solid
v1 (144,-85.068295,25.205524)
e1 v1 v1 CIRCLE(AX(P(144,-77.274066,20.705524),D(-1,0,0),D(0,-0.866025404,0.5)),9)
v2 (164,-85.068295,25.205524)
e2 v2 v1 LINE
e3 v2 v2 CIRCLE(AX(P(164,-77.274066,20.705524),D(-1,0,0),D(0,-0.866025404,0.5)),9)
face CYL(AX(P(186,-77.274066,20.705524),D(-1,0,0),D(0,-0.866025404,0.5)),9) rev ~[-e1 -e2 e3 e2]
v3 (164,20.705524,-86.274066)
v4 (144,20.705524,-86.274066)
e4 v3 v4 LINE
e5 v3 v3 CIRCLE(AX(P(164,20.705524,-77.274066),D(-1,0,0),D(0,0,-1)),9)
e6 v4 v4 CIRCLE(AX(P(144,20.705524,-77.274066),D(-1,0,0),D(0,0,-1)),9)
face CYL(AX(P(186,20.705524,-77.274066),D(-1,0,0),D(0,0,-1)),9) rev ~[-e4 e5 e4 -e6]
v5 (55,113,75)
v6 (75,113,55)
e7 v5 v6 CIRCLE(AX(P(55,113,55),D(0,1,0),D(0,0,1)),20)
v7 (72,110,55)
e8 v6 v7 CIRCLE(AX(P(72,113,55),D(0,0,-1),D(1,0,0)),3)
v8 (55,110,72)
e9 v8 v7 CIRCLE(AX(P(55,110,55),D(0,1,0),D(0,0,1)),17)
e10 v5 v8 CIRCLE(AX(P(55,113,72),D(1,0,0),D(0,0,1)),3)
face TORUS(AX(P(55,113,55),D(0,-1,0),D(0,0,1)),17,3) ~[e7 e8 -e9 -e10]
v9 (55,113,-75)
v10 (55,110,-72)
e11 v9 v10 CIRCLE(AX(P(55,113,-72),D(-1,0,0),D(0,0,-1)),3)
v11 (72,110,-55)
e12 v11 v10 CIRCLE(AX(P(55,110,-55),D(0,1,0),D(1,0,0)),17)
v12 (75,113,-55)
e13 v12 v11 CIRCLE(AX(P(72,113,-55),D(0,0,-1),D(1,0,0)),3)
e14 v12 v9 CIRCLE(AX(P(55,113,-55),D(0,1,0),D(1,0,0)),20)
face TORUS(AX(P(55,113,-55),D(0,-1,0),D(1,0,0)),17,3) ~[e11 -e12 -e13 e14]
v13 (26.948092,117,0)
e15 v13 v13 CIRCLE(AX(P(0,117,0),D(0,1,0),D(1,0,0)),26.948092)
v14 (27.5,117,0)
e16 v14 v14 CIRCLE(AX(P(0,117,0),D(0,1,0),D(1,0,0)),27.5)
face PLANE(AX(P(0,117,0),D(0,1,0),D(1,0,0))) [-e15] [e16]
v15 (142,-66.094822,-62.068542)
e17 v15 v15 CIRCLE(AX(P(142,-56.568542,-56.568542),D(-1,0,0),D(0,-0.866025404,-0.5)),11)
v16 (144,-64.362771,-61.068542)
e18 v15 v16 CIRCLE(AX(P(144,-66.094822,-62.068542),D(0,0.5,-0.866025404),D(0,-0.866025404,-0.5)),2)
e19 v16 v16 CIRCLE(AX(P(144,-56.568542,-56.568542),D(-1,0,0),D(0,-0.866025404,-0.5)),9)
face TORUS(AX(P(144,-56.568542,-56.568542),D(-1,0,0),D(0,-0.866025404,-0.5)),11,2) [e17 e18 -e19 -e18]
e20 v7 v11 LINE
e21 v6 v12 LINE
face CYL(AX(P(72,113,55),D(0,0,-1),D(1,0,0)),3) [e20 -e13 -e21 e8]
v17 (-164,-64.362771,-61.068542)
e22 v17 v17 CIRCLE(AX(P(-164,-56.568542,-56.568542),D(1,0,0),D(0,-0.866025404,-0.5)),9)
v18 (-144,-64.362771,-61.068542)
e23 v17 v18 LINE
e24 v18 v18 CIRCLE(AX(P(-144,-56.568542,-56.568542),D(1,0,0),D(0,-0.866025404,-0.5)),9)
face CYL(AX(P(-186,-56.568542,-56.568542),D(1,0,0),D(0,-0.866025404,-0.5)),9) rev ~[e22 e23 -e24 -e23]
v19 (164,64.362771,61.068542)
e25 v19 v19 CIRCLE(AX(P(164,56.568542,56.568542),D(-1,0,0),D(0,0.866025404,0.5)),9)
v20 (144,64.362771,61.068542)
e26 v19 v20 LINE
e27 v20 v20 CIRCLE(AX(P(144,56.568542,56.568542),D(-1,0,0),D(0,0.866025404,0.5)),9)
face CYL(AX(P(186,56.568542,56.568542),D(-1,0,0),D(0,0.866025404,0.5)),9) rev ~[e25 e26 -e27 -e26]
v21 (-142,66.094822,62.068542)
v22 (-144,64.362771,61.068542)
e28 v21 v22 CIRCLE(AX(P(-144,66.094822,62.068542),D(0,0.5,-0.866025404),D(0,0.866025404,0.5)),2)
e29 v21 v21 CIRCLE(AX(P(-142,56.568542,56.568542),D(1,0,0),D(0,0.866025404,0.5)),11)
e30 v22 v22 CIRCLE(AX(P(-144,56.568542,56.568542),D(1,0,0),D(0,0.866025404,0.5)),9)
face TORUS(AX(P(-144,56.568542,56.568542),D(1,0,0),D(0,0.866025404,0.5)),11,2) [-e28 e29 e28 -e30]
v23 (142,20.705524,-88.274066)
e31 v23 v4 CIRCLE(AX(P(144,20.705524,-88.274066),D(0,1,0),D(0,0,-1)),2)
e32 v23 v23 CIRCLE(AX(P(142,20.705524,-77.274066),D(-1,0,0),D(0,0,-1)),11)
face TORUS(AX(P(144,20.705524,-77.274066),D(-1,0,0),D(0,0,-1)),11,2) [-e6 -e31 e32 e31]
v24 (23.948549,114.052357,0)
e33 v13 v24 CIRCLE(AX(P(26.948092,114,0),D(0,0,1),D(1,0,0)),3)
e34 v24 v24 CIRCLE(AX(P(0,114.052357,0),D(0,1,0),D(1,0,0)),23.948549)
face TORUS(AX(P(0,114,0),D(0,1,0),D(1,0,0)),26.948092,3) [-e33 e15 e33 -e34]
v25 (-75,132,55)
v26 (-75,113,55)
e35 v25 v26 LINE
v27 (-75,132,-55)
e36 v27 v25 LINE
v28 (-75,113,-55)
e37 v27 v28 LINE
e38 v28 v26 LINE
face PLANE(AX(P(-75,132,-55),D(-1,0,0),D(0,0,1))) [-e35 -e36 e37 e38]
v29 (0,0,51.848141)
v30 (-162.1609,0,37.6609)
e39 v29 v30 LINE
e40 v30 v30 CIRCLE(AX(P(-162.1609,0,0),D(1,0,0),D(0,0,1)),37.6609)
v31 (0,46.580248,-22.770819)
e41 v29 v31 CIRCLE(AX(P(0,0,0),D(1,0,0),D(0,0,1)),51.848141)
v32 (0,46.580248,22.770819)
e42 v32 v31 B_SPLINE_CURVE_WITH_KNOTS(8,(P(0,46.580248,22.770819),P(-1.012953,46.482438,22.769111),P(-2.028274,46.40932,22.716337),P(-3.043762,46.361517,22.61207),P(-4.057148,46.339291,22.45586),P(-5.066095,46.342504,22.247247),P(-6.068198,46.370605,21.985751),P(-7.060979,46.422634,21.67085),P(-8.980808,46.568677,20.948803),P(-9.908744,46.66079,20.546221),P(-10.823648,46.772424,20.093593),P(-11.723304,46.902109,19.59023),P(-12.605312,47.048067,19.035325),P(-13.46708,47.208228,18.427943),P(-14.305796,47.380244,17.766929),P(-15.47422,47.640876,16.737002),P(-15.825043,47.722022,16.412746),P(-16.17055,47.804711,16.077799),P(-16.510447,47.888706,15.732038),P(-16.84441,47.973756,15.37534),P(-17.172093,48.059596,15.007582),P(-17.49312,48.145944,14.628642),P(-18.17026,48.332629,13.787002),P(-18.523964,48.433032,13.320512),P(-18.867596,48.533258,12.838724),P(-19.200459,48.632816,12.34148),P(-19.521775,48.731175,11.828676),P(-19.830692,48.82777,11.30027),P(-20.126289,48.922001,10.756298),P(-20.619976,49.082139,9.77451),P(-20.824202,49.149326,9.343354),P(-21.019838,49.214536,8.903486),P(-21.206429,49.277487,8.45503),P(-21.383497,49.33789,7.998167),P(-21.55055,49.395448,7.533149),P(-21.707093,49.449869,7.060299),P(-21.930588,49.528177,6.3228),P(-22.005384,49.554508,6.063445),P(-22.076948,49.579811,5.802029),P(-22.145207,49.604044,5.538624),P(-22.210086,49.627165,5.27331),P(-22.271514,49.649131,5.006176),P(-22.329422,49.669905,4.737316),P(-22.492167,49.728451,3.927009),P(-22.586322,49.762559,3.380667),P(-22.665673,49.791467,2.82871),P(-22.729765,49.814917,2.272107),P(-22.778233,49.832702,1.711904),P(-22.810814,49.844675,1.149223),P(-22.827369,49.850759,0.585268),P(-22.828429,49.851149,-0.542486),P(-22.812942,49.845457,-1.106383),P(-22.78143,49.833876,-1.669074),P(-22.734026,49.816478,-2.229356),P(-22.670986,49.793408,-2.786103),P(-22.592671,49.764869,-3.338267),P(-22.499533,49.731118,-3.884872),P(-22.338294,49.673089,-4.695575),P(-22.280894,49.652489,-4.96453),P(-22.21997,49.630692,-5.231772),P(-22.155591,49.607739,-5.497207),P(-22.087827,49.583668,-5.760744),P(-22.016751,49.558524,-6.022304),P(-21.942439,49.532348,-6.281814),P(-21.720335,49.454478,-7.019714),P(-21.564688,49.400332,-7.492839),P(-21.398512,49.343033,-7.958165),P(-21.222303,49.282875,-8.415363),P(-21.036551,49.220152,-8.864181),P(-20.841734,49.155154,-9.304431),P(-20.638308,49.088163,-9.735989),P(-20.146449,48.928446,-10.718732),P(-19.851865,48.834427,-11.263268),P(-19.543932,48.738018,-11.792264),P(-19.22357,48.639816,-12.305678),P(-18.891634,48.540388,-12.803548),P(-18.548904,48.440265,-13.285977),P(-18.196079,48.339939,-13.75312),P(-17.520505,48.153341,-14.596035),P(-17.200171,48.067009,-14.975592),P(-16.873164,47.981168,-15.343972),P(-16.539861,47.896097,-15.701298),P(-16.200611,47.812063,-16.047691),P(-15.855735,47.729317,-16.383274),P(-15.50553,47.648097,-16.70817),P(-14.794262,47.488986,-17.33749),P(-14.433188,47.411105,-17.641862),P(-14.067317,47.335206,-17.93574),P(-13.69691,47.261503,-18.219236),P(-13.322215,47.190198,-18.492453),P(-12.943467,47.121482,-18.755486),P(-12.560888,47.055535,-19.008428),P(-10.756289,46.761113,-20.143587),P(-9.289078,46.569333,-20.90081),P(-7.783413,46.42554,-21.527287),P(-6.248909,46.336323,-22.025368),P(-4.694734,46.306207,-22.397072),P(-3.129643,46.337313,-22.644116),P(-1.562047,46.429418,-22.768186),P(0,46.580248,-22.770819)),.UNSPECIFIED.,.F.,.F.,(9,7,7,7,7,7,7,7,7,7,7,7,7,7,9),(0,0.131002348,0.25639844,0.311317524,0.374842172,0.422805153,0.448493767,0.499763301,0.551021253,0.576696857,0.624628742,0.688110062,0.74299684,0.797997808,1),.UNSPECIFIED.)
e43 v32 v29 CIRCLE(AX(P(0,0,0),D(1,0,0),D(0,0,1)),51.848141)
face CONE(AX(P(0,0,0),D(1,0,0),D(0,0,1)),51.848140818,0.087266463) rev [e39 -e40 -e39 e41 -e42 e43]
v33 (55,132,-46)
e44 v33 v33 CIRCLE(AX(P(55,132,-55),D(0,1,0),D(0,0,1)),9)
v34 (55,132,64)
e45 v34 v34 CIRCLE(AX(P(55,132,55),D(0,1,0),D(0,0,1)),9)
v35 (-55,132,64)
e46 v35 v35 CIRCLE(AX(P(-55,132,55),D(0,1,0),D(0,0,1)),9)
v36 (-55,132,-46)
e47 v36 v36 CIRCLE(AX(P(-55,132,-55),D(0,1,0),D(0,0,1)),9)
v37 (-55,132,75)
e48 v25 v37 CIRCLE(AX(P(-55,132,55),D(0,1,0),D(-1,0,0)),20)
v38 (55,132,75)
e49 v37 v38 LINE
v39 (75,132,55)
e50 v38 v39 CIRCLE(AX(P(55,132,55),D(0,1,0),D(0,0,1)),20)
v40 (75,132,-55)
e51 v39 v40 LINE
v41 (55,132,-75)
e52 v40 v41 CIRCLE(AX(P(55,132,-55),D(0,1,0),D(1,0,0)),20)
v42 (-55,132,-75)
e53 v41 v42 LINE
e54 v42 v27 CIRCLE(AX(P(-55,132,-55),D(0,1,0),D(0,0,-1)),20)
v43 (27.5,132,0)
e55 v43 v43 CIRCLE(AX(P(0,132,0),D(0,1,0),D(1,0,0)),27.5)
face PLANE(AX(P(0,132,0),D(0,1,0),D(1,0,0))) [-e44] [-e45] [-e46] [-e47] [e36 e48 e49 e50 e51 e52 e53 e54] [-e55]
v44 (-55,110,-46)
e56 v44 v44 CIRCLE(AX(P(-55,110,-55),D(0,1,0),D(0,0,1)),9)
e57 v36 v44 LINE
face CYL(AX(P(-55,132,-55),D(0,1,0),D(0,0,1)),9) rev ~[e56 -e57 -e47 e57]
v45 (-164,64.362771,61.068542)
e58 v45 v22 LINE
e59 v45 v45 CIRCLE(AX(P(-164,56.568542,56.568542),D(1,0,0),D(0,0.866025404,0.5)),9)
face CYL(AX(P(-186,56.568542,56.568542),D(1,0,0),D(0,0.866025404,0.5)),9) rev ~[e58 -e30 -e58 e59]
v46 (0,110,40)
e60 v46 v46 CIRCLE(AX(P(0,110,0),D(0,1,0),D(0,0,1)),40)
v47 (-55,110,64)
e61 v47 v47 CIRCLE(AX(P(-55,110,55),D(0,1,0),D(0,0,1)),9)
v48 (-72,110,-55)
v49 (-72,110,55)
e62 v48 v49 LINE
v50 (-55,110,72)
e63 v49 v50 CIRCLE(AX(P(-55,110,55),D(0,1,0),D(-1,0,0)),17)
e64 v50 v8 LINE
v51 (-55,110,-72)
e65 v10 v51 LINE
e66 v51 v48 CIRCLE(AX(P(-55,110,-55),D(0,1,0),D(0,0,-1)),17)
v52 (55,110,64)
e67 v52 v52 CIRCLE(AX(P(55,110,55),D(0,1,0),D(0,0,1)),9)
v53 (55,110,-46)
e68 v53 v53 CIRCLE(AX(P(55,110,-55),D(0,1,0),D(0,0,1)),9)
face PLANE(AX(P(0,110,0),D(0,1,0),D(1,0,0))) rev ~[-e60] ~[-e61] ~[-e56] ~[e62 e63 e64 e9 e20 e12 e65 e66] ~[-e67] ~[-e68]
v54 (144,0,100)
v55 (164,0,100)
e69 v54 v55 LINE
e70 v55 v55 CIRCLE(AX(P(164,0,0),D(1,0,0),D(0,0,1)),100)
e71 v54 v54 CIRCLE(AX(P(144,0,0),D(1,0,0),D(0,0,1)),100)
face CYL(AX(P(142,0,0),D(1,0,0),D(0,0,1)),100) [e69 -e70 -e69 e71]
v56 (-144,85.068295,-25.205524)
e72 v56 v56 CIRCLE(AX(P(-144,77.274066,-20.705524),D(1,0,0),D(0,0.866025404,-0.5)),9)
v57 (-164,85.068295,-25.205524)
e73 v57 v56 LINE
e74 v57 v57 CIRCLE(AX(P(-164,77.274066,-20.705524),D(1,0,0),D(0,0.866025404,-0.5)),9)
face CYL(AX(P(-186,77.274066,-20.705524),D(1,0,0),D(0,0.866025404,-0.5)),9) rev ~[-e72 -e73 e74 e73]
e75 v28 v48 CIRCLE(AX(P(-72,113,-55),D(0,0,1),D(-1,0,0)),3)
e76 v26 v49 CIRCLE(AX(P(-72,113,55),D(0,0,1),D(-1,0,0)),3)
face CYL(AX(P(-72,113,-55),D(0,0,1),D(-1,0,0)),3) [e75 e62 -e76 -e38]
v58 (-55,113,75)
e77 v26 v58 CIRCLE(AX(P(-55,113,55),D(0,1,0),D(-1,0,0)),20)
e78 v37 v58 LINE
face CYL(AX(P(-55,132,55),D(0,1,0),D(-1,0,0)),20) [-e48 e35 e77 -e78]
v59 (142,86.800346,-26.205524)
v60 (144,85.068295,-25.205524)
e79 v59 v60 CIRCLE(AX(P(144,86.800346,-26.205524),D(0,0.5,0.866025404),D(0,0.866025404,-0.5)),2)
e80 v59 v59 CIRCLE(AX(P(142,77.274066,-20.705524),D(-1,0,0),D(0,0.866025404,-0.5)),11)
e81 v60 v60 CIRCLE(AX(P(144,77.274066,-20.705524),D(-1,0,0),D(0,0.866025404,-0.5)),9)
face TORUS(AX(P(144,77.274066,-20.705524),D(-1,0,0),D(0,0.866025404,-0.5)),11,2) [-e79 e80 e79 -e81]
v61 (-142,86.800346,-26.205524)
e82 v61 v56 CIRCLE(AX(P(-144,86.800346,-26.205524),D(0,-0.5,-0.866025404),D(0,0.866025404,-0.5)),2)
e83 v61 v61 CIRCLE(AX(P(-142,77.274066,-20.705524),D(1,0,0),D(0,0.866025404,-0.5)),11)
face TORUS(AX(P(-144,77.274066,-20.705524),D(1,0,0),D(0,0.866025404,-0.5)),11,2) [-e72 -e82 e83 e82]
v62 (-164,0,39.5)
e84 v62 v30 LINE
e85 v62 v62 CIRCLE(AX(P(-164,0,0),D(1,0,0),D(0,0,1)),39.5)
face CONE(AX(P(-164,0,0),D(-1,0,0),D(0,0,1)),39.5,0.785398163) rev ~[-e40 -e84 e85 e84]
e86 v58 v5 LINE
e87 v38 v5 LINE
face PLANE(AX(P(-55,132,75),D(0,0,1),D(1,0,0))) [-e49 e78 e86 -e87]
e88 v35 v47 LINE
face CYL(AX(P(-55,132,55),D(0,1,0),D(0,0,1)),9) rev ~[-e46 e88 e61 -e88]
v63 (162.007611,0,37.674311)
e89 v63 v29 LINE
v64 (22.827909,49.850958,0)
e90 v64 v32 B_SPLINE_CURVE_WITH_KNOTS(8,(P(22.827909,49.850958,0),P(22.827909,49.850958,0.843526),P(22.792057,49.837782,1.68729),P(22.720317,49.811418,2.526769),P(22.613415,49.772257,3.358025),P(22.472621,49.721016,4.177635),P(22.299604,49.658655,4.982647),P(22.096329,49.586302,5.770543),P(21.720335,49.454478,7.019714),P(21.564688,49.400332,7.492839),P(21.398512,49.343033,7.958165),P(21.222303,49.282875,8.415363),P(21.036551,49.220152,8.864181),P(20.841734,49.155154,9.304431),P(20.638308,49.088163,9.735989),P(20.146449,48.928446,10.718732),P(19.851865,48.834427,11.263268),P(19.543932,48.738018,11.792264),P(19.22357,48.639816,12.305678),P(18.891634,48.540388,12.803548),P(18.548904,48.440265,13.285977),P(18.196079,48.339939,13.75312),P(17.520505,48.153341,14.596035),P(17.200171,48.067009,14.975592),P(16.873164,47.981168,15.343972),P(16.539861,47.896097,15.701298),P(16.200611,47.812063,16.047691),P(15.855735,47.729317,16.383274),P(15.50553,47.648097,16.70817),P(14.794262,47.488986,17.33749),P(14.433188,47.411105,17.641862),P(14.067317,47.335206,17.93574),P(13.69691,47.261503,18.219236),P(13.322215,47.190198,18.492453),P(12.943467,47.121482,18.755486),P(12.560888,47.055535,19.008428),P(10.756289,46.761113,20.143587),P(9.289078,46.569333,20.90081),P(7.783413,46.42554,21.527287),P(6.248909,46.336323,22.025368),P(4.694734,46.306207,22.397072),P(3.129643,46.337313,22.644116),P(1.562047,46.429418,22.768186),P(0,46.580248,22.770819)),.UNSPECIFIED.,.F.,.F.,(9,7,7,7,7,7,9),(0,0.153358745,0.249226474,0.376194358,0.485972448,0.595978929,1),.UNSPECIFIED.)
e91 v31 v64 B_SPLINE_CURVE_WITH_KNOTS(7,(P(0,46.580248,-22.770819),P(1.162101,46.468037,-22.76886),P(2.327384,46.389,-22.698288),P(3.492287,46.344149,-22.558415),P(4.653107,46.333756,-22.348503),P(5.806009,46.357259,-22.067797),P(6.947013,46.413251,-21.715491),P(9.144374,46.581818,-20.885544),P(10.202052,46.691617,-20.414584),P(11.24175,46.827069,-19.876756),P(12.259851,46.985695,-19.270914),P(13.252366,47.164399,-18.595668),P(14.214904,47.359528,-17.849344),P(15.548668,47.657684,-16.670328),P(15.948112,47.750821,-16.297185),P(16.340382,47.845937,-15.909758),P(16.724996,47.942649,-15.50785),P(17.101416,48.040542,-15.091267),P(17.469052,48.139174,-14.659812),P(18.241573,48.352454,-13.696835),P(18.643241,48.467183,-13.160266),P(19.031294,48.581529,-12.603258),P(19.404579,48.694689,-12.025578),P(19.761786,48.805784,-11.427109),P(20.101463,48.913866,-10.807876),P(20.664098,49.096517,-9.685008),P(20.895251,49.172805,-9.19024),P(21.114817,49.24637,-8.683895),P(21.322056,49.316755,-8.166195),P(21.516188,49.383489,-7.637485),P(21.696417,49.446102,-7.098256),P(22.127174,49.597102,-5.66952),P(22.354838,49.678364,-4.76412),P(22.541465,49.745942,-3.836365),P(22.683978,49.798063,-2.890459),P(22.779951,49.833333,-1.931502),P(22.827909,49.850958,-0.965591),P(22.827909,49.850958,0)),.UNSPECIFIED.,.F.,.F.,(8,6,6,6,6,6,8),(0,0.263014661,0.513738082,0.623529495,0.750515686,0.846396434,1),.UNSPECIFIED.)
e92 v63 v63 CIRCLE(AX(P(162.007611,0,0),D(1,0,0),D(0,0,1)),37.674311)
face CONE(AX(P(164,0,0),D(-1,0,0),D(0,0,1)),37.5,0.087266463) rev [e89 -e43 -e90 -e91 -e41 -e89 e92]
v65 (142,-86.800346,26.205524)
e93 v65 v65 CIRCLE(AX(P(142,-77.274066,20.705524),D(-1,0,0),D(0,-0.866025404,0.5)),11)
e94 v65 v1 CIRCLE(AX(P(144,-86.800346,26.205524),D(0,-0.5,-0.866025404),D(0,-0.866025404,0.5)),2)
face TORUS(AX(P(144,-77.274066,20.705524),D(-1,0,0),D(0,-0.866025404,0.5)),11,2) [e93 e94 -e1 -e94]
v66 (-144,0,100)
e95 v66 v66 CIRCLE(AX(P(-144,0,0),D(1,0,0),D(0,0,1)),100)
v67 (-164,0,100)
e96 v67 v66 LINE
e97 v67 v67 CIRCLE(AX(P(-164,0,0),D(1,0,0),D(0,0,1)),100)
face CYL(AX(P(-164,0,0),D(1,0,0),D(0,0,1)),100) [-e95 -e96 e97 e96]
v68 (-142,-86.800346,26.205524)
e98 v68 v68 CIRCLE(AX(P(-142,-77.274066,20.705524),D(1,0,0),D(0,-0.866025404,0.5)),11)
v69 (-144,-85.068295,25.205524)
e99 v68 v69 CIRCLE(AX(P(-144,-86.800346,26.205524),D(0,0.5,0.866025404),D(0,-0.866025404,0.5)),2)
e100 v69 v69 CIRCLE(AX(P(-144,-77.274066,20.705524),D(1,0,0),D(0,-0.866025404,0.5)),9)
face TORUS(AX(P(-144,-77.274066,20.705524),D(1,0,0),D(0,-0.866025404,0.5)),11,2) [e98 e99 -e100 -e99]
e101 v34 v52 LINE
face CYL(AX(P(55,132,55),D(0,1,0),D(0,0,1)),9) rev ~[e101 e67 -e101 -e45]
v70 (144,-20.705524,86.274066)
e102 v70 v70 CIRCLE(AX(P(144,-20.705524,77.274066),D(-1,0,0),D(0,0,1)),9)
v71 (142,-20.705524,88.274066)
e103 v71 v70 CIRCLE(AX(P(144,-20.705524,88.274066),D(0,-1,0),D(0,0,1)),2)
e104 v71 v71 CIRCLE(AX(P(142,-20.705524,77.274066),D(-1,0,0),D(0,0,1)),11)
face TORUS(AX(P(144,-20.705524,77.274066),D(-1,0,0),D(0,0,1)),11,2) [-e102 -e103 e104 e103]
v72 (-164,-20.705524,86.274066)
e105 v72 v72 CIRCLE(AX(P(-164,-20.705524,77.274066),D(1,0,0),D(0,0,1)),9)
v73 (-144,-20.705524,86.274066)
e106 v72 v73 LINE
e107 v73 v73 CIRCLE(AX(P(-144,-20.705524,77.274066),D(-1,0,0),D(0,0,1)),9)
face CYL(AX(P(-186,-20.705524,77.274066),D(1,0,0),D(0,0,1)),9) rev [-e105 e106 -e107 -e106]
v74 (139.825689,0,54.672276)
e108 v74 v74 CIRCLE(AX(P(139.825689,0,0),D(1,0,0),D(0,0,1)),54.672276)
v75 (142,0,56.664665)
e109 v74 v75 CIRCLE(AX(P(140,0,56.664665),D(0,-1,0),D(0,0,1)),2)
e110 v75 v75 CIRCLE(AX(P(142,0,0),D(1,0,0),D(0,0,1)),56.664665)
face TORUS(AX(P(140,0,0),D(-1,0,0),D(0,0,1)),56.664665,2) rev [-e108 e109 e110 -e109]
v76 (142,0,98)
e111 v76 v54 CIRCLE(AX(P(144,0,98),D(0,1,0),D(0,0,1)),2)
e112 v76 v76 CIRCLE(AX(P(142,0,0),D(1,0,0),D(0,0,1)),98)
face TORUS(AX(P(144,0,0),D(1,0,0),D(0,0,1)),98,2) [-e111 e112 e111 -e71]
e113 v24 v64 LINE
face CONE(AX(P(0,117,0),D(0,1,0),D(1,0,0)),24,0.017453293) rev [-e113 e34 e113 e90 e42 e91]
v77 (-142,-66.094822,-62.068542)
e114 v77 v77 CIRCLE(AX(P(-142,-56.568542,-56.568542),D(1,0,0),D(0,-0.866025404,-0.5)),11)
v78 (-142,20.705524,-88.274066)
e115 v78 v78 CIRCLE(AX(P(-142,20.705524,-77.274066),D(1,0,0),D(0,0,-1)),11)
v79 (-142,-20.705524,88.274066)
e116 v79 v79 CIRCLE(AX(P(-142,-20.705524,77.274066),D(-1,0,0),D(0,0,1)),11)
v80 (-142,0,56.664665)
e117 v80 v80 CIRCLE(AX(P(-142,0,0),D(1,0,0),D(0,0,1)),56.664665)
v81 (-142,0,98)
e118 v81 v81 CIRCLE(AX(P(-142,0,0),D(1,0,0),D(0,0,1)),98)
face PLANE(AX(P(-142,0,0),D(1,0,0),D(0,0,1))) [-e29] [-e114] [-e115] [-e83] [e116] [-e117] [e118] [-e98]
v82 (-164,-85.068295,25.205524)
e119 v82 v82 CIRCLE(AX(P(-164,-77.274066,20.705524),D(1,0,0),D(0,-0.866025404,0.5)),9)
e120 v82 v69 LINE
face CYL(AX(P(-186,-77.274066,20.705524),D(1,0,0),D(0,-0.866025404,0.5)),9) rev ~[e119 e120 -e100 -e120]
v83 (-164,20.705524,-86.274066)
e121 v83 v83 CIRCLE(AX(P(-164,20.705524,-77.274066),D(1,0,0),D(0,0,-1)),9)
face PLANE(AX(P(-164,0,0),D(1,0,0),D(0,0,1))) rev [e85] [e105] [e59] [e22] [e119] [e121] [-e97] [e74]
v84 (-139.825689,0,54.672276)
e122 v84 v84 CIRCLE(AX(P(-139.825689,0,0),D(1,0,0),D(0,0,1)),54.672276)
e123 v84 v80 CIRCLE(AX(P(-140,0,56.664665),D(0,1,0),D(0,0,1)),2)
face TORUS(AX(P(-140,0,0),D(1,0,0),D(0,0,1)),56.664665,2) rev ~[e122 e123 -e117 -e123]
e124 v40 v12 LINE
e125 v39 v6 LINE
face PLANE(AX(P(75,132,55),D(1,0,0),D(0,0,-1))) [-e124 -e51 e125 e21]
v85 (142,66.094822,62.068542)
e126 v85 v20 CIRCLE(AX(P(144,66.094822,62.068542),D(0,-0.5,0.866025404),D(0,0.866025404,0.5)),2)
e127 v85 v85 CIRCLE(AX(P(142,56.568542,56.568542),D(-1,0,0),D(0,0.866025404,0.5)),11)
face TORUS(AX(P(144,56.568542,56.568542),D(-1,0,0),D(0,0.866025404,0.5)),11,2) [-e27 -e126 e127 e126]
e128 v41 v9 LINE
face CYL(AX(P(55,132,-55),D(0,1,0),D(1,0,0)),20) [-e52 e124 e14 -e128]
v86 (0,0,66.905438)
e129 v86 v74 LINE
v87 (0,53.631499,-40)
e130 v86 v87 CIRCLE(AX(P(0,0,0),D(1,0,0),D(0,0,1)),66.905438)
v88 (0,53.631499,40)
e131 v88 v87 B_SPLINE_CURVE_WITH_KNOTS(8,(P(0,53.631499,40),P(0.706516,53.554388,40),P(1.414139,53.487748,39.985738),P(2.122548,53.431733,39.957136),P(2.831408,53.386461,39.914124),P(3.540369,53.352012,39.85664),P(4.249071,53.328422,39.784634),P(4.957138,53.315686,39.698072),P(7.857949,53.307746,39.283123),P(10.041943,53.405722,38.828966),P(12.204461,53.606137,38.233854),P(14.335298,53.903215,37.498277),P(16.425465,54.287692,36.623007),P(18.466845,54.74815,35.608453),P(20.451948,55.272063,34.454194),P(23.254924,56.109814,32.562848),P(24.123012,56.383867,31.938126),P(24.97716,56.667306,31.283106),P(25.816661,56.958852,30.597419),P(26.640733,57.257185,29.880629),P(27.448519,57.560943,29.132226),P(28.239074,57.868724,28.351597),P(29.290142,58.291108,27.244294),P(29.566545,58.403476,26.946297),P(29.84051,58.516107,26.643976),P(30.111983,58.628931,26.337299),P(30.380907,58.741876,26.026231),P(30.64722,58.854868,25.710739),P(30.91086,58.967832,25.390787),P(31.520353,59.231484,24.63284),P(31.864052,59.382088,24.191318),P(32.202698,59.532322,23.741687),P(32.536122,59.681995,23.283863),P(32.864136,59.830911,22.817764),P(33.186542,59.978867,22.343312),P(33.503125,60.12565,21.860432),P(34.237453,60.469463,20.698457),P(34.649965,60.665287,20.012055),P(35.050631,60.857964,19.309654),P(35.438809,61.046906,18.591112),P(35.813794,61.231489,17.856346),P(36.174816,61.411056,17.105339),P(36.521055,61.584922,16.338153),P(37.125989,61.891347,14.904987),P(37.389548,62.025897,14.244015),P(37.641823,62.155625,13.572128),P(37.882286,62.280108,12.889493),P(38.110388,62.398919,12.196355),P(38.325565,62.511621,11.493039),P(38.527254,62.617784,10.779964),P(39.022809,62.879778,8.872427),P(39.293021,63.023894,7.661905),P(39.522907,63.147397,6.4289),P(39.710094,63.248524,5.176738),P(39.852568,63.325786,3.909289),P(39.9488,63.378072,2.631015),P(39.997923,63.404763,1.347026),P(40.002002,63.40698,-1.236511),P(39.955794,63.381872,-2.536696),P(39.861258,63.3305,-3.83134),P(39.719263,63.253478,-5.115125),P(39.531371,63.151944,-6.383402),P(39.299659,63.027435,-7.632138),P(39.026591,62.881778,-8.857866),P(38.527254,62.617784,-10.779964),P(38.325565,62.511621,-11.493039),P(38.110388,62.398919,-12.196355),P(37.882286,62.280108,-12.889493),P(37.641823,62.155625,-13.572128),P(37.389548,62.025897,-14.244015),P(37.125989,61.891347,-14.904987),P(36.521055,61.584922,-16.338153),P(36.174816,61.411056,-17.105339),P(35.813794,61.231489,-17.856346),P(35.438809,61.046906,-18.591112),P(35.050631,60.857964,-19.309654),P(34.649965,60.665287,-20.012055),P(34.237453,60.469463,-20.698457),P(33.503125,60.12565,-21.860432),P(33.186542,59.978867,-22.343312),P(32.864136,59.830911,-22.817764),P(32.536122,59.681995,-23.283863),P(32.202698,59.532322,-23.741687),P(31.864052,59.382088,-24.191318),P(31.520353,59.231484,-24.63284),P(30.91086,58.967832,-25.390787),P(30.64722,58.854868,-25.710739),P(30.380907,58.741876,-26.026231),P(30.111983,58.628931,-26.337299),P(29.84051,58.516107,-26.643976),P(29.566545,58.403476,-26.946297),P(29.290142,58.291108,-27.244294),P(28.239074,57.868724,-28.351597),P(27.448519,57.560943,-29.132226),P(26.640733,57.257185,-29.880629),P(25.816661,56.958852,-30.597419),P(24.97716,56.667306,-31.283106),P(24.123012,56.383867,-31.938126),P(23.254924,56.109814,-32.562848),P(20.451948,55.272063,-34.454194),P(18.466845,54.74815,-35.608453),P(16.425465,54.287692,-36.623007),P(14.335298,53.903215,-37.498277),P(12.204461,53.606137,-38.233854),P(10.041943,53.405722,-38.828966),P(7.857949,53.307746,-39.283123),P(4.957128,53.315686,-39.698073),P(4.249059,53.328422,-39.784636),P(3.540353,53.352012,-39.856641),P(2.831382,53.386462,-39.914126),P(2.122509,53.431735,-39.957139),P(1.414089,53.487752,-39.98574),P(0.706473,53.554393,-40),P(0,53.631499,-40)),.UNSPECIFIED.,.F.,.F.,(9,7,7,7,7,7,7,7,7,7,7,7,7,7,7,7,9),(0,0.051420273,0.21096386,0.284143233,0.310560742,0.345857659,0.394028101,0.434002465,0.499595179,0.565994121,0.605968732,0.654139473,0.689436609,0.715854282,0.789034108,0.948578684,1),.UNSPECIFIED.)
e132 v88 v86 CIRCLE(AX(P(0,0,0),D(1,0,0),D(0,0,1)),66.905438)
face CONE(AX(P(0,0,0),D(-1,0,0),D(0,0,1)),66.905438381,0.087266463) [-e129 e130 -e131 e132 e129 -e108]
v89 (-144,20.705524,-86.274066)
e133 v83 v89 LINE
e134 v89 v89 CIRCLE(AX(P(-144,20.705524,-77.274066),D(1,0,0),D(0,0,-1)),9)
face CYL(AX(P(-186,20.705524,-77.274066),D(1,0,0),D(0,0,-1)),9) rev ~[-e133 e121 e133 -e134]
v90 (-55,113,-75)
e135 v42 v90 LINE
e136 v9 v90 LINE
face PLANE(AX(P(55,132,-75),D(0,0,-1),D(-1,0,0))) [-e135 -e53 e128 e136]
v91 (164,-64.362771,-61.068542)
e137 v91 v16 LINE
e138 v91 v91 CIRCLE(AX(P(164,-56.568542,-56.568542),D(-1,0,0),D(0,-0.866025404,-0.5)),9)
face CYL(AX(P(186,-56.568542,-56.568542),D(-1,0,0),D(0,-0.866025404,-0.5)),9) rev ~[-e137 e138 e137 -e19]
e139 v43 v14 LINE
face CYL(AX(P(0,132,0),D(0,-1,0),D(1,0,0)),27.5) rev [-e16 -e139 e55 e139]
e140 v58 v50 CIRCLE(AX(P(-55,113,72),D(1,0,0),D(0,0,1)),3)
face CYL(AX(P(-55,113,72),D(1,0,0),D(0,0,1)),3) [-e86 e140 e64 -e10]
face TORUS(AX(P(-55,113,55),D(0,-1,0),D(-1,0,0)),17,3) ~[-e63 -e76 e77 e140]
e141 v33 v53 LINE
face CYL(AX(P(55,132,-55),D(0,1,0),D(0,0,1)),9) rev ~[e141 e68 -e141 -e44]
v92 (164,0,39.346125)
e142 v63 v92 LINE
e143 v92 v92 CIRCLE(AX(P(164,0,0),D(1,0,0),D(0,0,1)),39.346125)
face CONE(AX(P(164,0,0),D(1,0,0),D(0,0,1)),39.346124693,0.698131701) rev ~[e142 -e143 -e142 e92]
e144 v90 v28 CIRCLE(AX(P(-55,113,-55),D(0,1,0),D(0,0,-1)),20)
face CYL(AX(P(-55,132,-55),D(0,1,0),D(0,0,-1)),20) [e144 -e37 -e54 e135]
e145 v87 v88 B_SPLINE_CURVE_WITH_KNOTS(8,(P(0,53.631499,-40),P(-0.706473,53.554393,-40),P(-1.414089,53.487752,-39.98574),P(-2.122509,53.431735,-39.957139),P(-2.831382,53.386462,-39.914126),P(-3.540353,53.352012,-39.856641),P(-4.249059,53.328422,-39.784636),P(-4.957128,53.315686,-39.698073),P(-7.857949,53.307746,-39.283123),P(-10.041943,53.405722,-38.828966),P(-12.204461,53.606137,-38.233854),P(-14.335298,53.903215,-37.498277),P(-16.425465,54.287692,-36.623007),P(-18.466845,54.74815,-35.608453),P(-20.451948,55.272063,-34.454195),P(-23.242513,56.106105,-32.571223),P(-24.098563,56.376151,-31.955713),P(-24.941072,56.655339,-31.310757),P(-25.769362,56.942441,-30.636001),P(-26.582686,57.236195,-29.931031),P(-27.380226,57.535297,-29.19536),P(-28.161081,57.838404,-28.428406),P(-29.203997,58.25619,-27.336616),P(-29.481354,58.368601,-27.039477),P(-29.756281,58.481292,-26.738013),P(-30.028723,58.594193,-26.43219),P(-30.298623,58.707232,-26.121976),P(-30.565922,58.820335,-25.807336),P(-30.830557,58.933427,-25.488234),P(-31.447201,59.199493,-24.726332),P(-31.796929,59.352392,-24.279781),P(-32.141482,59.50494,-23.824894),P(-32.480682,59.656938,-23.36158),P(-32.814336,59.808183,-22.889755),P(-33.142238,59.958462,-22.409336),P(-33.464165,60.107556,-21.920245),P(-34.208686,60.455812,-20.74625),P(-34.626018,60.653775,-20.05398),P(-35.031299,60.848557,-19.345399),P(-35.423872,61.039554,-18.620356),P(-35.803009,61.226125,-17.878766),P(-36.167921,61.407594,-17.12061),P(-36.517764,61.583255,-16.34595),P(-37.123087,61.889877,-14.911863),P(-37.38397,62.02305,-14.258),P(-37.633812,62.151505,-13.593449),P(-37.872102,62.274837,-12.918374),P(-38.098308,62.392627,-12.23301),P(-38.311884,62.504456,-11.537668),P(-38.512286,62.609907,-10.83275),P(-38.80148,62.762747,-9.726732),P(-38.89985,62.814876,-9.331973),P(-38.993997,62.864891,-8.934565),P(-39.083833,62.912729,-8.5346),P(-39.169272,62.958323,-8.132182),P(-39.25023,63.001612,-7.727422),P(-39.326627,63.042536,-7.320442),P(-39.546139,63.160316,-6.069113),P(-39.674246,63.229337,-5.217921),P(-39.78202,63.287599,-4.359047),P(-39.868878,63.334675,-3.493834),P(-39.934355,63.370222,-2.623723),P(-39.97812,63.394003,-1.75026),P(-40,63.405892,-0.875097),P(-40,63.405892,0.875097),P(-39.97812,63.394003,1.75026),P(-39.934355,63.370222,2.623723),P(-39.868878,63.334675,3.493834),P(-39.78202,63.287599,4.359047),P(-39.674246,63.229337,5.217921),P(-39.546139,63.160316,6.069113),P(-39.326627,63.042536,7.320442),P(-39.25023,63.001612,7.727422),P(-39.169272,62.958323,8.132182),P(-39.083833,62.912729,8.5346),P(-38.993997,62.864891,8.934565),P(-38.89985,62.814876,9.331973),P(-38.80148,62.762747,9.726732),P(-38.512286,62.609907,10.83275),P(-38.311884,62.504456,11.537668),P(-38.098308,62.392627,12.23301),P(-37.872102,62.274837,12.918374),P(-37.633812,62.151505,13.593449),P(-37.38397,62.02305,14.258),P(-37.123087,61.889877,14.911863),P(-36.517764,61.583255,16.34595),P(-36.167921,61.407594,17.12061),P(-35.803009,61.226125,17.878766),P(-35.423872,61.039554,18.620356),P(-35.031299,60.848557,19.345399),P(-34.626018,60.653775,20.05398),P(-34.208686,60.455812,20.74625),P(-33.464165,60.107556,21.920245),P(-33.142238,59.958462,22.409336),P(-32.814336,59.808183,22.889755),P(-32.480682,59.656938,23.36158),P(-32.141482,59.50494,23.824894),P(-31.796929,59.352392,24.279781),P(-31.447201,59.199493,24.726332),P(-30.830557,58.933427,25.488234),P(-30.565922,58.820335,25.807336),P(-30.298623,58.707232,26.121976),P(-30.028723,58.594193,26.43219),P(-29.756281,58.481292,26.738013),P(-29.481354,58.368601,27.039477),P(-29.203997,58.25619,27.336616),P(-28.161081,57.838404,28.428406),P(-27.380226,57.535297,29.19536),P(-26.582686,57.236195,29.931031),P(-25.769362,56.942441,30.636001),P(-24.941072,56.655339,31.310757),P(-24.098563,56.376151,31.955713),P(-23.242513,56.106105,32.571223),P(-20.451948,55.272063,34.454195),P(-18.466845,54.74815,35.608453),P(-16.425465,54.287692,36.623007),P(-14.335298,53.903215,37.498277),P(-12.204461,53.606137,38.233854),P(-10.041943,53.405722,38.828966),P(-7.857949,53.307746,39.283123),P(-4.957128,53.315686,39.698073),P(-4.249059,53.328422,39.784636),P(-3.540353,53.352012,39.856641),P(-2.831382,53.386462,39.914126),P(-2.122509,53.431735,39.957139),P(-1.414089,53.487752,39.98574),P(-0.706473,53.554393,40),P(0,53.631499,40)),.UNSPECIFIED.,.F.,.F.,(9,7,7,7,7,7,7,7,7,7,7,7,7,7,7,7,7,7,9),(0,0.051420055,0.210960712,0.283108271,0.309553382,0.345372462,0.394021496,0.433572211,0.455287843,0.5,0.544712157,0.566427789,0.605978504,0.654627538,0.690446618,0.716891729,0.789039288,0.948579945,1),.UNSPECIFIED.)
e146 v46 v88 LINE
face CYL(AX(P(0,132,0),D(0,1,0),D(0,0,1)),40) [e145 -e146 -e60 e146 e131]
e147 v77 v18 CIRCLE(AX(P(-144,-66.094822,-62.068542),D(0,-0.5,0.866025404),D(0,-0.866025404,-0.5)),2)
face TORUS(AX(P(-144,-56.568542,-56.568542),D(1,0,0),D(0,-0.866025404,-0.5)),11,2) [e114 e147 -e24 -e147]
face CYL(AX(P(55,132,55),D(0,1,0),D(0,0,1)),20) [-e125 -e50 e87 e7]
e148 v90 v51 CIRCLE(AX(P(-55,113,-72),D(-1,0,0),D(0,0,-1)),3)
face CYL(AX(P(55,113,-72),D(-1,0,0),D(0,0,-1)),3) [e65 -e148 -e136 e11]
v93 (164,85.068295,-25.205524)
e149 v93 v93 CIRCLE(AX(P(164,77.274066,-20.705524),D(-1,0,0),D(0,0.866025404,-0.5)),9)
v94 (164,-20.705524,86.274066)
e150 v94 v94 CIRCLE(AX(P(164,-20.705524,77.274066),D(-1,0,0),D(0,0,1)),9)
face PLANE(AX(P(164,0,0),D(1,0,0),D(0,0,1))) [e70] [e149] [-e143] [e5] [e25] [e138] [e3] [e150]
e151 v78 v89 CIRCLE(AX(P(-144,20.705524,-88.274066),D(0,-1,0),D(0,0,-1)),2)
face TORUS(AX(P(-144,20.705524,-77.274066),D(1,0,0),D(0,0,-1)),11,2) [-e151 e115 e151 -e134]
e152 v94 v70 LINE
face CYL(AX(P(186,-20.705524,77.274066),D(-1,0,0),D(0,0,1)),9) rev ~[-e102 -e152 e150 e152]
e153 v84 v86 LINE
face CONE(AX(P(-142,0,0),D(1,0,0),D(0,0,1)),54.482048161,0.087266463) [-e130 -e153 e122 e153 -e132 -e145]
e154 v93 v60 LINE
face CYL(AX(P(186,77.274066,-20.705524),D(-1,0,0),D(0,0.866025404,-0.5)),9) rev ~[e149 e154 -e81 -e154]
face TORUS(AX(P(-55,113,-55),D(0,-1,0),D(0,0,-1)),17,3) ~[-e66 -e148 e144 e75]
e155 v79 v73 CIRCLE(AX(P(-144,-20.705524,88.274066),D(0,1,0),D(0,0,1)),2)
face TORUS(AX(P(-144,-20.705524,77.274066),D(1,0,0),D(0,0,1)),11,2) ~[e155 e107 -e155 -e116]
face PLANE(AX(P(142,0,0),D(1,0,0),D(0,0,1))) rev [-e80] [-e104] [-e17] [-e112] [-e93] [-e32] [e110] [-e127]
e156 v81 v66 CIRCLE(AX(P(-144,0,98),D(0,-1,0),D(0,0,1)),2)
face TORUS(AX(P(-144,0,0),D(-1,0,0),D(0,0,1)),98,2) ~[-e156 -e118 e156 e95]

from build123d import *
from OCP.BRepFilletAPI import BRepFilletAPI_MakeChamfer

# Parameters (mm, degrees)
F_5_0MM_DOWEL_HOLE1_D     = 18
F_5_0MM_DOWEL_HOLE1_DEPTH = 22
CIRPATTERN1_COUNT         = 6
MIRROR1_COPY_1_D          = 18
MIRROR1_COPY_1_DEPTH      = 22
MIRROR1_COPY_2_D          = 18
MIRROR1_COPY_2_DEPTH      = 22
MIRROR1_COPY_3_D          = 18
MIRROR1_COPY_3_DEPTH      = 22
MIRROR1_COPY_4_D          = 18
MIRROR1_COPY_4_DEPTH      = 22
MIRROR1_COPY_5_D          = 18
MIRROR1_COPY_5_DEPTH      = 22
SKETCH7_R                 = 40
SKETCH7_R_2               = 9
BOSS_EXTRUDE1_DEPTH       = 22
BOSS_EXTRUDE2_REACH       = 303.198
SKETCH7_2_R               = 40
FILLET1_R                 = 3
FILLET2_R                 = 3
FILLET3_R                 = 2
CHAMFER1_SIZE             = 2
CHAMFER1_SIZE2            = 1.846124693


with BuildPart() as part:
    # Sketch1 → Revolve1 (revolve)
    with BuildSketch(Plane.XY, mode=Mode.PRIVATE) as revolve1_sk:
        Polygon((-164, -37.5), (-164, -100), (-142, -100), (-142, -54.482048161), (0, -66.905438381), (142, -54.482048161), (142, -100), (164, -100), (164, -37.5), (0, -51.848140818), align=None)
    revolve(revolve1_sk.sketch.rotate(Axis((0, 0, 0), (1, 0, 0)), 270), axis=Axis((0, 0, 0), (1, 0, 0)))

    # Ø5.0mm Dowel Hole1
    with Locations(Plane(origin=(164, 0, 0), x_dir=(0, 0, -1), z_dir=(1, 0, 0))):
        with Locations((-77.274066103, -20.705523608)):
            f_5_0mm_dowel_hole1 = Hole(F_5_0MM_DOWEL_HOLE1_D / 2, depth=F_5_0MM_DOWEL_HOLE1_DEPTH)

    # CirPattern1: Ø5.0mm Dowel Hole1 ×6 about axis
    cirpattern1_axis = Axis((0, 0, 0), (1, 0, 0))
    for i in range(1, CIRPATTERN1_COUNT):
        add(f_5_0mm_dowel_hole1.rotate(cirpattern1_axis, i * 360 / CIRPATTERN1_COUNT), mode=Mode.SUBTRACT)

    # Mirror1: Ø5.0mm Dowel Hole1 across plane
    add(f_5_0mm_dowel_hole1.mirror(Plane(origin=(0, 0, 0), x_dir=(0, 0, 1), z_dir=(1, 0, 0))), mode=Mode.SUBTRACT)

    # Mirror1 copy 1
    with Locations(Plane(origin=(-164, 0, 0), x_dir=(0, 0.8660254037844386, -0.5000000000000001), z_dir=(-1, 0, 0))):
        with Locations((-77.274066103, 20.705523608)):
            Hole(MIRROR1_COPY_1_D / 2, depth=MIRROR1_COPY_1_DEPTH)

    # Mirror1 copy 2
    with Locations(Plane(origin=(-164, 0, 0), x_dir=(0, 0.8660254037844387, 0.4999999999999998), z_dir=(-1, 0, 0))):
        with Locations((-77.274066103, 20.705523608)):
            Hole(MIRROR1_COPY_2_D / 2, depth=MIRROR1_COPY_2_DEPTH)

    # Mirror1 copy 3
    with Locations(Plane.ZY.offset(164)):
        with Locations((-77.274066103, 20.705523608)):
            Hole(MIRROR1_COPY_3_D / 2, depth=MIRROR1_COPY_3_DEPTH)

    # Mirror1 copy 4
    with Locations(Plane(origin=(-164, 0, 0), x_dir=(0, -0.8660254037844384, 0.5000000000000004), z_dir=(-1, 0, 0))):
        with Locations((-77.274066103, 20.705523608)):
            Hole(MIRROR1_COPY_4_D / 2, depth=MIRROR1_COPY_4_DEPTH)

    # Mirror1 copy 5
    with Locations(Plane(origin=(-164, 0, 0), x_dir=(0, -0.8660254037844386, -0.5000000000000001), z_dir=(-1, 0, 0))):
        with Locations((-77.274066103, 20.705523608)):
            Hole(MIRROR1_COPY_5_D / 2, depth=MIRROR1_COPY_5_DEPTH)

    # Sketch7<2> → Boss-Extrude2 (add, up to next)
    with BuildSketch(Plane(origin=(0, 132, 0), x_dir=(1, 0, 0), z_dir=(0, 1, 0)), mode=Mode.PRIVATE) as boss_extrude2_sk1:
        with Locations(Location((0, 0, 0), (0, 0, 270))):
            Circle(SKETCH7_2_R)
    boss_extrude2_tool1 = extrude(boss_extrude2_sk1.sketch, amount=-BOSS_EXTRUDE2_REACH, mode=Mode.PRIVATE) - part.part


with BuildPart() as body_2:
    # Sketch7 → Boss-Extrude1 (new body)
    with BuildSketch(Plane(origin=(0, 132, 0), x_dir=(1, 0, 0), z_dir=(0, 1, 0))):
        with BuildLine():
            Line((-55, -75), (55, -75))
            ThreePointArc((55, -75), (69.142135624, -69.142135624), (75, -55))
            Line((75, -55), (75, 55))
            ThreePointArc((75, 55), (69.142135624, 69.142135624), (55, 75))
            Line((55, 75), (-55, 75))
            ThreePointArc((-55, 75), (-69.142135624, 69.142135624), (-75, 55))
            Line((-75, 55), (-75, -55))
            ThreePointArc((-75, -55), (-69.142135624, -69.142135624), (-55, -75))
        make_face()
        with Locations(Location((0, 0, 0), (0, 0, 270))):
            Circle(SKETCH7_R, mode=Mode.SUBTRACT)
        with Locations(Location((-55, 55, 0), (0, 0, 270))):
            Circle(SKETCH7_R_2, mode=Mode.SUBTRACT)
        with Locations(Location((55, 55, 0), (0, 0, 270))):
            Circle(SKETCH7_R_2, mode=Mode.SUBTRACT)
        with Locations(Location((55, -55, 0), (0, 0, 270))):
            Circle(SKETCH7_R_2, mode=Mode.SUBTRACT)
        with Locations(Location((-55, -55, 0), (0, 0, 270))):
            Circle(SKETCH7_R_2, mode=Mode.SUBTRACT)
    extrude(amount=-BOSS_EXTRUDE1_DEPTH)


with BuildPart() as part_1:
    add(part.part)

    add(body_2.part)  # Boss-Extrude2 merges body 2
    add(boss_extrude2_tool1.solids().sort_by_distance((0, 132, 0))[0])

    # Sketch8 → Cut-Revolve1 (revolve, cut)
    with BuildSketch(Plane.XY):
        Polygon((0, 132), (27.5, 132), (27.5, 117), (24, 117), (21.957757403, 0), (0, 0), align=None)
    revolve(axis=Axis((0, 0, 0), (0, 1, 0)), mode=Mode.SUBTRACT)

    # Fillet1
    fillet1_edges = [part_1.edges().sort_by_distance(p)[0] for p in [
        (-24, 117, 0),
    ]]
    fillet(fillet1_edges, radius=FILLET1_R)

    # Fillet2
    fillet2_edges = [part_1.edges().sort_by_distance(p)[0] for p in [
        (69.142135624, 110, 69.142135624),
        (0, 110, 75),
        (-69.142135624, 110, 69.142135624),
        (-75, 110, 0),
        (-69.142135624, 110, -69.142135624),
        (0, 110, -75),
        (69.142135624, 110, -69.142135624),
        (75, 110, 0),
    ]]
    fillet(fillet2_edges, radius=FILLET2_R)

    # Fillet3
    fillet3_edges = [part_1.edges().sort_by_distance(p)[0] for p in [
        (142, 0, -54.482048161),
        (-142, -69.479837469, 16.205523608),
        (142, 0, -100),
        (142, -20.705523608, 68.274066103),
        (142, 48.774313861, 52.068542495),
        (142, 69.479837469, -16.205523608),
        (142, 20.705523608, -68.274066103),
        (142, -48.774313861, -52.068542495),
        (142, -69.479837469, 16.205523608),
        (-142, -20.705523608, 68.274066103),
        (-142, 48.774313861, 52.068542495),
        (-142, 69.479837469, -16.205523608),
        (-142, 0, -100),
        (-142, 20.705523608, -68.274066103),
        (-142, 0, -54.482048161),
        (-142, -48.774313861, -52.068542495),
    ]]
    fillet(fillet3_edges, radius=FILLET3_R)

    # Chamfer1: one chamfer whose edges measure the first distance from different faces: ONE call of the kernel's chamfer builder (chamfer() names one face for all edges)
    chamfer1_edges_1 = [part_1.edges().sort_by_distance(p)[0] for p in [
        (164, 0, -37.5),
    ]]
    chamfer1_side_1 = [part_1.faces().sort_by_distance(p)[0] for p in [
        (82, 0, -44.674070409),
    ]]
    chamfer1_edges_2 = [part_1.edges().sort_by_distance(p)[0] for p in [
        (-164, 0, -37.5),
    ]]
    chamfer1_side_2 = [part_1.faces().sort_by_distance(p)[0] for p in [
        (-164, 0, -97.171572875),
    ]]
    chamfer1 = BRepFilletAPI_MakeChamfer(part_1.part.solid().wrapped)
    for e in chamfer1_edges_1:
        chamfer1.Add(CHAMFER1_SIZE, CHAMFER1_SIZE2, e.wrapped, chamfer1_side_1[0].wrapped)  # the first distance lies on this face
    for e in chamfer1_edges_2:
        chamfer1.Add(CHAMFER1_SIZE, CHAMFER1_SIZE2, e.wrapped, chamfer1_side_2[0].wrapped)  # the first distance lies on this face
    add(Compound.cast(chamfer1.Shape()), mode=Mode.REPLACE)


solid = part_1.part
